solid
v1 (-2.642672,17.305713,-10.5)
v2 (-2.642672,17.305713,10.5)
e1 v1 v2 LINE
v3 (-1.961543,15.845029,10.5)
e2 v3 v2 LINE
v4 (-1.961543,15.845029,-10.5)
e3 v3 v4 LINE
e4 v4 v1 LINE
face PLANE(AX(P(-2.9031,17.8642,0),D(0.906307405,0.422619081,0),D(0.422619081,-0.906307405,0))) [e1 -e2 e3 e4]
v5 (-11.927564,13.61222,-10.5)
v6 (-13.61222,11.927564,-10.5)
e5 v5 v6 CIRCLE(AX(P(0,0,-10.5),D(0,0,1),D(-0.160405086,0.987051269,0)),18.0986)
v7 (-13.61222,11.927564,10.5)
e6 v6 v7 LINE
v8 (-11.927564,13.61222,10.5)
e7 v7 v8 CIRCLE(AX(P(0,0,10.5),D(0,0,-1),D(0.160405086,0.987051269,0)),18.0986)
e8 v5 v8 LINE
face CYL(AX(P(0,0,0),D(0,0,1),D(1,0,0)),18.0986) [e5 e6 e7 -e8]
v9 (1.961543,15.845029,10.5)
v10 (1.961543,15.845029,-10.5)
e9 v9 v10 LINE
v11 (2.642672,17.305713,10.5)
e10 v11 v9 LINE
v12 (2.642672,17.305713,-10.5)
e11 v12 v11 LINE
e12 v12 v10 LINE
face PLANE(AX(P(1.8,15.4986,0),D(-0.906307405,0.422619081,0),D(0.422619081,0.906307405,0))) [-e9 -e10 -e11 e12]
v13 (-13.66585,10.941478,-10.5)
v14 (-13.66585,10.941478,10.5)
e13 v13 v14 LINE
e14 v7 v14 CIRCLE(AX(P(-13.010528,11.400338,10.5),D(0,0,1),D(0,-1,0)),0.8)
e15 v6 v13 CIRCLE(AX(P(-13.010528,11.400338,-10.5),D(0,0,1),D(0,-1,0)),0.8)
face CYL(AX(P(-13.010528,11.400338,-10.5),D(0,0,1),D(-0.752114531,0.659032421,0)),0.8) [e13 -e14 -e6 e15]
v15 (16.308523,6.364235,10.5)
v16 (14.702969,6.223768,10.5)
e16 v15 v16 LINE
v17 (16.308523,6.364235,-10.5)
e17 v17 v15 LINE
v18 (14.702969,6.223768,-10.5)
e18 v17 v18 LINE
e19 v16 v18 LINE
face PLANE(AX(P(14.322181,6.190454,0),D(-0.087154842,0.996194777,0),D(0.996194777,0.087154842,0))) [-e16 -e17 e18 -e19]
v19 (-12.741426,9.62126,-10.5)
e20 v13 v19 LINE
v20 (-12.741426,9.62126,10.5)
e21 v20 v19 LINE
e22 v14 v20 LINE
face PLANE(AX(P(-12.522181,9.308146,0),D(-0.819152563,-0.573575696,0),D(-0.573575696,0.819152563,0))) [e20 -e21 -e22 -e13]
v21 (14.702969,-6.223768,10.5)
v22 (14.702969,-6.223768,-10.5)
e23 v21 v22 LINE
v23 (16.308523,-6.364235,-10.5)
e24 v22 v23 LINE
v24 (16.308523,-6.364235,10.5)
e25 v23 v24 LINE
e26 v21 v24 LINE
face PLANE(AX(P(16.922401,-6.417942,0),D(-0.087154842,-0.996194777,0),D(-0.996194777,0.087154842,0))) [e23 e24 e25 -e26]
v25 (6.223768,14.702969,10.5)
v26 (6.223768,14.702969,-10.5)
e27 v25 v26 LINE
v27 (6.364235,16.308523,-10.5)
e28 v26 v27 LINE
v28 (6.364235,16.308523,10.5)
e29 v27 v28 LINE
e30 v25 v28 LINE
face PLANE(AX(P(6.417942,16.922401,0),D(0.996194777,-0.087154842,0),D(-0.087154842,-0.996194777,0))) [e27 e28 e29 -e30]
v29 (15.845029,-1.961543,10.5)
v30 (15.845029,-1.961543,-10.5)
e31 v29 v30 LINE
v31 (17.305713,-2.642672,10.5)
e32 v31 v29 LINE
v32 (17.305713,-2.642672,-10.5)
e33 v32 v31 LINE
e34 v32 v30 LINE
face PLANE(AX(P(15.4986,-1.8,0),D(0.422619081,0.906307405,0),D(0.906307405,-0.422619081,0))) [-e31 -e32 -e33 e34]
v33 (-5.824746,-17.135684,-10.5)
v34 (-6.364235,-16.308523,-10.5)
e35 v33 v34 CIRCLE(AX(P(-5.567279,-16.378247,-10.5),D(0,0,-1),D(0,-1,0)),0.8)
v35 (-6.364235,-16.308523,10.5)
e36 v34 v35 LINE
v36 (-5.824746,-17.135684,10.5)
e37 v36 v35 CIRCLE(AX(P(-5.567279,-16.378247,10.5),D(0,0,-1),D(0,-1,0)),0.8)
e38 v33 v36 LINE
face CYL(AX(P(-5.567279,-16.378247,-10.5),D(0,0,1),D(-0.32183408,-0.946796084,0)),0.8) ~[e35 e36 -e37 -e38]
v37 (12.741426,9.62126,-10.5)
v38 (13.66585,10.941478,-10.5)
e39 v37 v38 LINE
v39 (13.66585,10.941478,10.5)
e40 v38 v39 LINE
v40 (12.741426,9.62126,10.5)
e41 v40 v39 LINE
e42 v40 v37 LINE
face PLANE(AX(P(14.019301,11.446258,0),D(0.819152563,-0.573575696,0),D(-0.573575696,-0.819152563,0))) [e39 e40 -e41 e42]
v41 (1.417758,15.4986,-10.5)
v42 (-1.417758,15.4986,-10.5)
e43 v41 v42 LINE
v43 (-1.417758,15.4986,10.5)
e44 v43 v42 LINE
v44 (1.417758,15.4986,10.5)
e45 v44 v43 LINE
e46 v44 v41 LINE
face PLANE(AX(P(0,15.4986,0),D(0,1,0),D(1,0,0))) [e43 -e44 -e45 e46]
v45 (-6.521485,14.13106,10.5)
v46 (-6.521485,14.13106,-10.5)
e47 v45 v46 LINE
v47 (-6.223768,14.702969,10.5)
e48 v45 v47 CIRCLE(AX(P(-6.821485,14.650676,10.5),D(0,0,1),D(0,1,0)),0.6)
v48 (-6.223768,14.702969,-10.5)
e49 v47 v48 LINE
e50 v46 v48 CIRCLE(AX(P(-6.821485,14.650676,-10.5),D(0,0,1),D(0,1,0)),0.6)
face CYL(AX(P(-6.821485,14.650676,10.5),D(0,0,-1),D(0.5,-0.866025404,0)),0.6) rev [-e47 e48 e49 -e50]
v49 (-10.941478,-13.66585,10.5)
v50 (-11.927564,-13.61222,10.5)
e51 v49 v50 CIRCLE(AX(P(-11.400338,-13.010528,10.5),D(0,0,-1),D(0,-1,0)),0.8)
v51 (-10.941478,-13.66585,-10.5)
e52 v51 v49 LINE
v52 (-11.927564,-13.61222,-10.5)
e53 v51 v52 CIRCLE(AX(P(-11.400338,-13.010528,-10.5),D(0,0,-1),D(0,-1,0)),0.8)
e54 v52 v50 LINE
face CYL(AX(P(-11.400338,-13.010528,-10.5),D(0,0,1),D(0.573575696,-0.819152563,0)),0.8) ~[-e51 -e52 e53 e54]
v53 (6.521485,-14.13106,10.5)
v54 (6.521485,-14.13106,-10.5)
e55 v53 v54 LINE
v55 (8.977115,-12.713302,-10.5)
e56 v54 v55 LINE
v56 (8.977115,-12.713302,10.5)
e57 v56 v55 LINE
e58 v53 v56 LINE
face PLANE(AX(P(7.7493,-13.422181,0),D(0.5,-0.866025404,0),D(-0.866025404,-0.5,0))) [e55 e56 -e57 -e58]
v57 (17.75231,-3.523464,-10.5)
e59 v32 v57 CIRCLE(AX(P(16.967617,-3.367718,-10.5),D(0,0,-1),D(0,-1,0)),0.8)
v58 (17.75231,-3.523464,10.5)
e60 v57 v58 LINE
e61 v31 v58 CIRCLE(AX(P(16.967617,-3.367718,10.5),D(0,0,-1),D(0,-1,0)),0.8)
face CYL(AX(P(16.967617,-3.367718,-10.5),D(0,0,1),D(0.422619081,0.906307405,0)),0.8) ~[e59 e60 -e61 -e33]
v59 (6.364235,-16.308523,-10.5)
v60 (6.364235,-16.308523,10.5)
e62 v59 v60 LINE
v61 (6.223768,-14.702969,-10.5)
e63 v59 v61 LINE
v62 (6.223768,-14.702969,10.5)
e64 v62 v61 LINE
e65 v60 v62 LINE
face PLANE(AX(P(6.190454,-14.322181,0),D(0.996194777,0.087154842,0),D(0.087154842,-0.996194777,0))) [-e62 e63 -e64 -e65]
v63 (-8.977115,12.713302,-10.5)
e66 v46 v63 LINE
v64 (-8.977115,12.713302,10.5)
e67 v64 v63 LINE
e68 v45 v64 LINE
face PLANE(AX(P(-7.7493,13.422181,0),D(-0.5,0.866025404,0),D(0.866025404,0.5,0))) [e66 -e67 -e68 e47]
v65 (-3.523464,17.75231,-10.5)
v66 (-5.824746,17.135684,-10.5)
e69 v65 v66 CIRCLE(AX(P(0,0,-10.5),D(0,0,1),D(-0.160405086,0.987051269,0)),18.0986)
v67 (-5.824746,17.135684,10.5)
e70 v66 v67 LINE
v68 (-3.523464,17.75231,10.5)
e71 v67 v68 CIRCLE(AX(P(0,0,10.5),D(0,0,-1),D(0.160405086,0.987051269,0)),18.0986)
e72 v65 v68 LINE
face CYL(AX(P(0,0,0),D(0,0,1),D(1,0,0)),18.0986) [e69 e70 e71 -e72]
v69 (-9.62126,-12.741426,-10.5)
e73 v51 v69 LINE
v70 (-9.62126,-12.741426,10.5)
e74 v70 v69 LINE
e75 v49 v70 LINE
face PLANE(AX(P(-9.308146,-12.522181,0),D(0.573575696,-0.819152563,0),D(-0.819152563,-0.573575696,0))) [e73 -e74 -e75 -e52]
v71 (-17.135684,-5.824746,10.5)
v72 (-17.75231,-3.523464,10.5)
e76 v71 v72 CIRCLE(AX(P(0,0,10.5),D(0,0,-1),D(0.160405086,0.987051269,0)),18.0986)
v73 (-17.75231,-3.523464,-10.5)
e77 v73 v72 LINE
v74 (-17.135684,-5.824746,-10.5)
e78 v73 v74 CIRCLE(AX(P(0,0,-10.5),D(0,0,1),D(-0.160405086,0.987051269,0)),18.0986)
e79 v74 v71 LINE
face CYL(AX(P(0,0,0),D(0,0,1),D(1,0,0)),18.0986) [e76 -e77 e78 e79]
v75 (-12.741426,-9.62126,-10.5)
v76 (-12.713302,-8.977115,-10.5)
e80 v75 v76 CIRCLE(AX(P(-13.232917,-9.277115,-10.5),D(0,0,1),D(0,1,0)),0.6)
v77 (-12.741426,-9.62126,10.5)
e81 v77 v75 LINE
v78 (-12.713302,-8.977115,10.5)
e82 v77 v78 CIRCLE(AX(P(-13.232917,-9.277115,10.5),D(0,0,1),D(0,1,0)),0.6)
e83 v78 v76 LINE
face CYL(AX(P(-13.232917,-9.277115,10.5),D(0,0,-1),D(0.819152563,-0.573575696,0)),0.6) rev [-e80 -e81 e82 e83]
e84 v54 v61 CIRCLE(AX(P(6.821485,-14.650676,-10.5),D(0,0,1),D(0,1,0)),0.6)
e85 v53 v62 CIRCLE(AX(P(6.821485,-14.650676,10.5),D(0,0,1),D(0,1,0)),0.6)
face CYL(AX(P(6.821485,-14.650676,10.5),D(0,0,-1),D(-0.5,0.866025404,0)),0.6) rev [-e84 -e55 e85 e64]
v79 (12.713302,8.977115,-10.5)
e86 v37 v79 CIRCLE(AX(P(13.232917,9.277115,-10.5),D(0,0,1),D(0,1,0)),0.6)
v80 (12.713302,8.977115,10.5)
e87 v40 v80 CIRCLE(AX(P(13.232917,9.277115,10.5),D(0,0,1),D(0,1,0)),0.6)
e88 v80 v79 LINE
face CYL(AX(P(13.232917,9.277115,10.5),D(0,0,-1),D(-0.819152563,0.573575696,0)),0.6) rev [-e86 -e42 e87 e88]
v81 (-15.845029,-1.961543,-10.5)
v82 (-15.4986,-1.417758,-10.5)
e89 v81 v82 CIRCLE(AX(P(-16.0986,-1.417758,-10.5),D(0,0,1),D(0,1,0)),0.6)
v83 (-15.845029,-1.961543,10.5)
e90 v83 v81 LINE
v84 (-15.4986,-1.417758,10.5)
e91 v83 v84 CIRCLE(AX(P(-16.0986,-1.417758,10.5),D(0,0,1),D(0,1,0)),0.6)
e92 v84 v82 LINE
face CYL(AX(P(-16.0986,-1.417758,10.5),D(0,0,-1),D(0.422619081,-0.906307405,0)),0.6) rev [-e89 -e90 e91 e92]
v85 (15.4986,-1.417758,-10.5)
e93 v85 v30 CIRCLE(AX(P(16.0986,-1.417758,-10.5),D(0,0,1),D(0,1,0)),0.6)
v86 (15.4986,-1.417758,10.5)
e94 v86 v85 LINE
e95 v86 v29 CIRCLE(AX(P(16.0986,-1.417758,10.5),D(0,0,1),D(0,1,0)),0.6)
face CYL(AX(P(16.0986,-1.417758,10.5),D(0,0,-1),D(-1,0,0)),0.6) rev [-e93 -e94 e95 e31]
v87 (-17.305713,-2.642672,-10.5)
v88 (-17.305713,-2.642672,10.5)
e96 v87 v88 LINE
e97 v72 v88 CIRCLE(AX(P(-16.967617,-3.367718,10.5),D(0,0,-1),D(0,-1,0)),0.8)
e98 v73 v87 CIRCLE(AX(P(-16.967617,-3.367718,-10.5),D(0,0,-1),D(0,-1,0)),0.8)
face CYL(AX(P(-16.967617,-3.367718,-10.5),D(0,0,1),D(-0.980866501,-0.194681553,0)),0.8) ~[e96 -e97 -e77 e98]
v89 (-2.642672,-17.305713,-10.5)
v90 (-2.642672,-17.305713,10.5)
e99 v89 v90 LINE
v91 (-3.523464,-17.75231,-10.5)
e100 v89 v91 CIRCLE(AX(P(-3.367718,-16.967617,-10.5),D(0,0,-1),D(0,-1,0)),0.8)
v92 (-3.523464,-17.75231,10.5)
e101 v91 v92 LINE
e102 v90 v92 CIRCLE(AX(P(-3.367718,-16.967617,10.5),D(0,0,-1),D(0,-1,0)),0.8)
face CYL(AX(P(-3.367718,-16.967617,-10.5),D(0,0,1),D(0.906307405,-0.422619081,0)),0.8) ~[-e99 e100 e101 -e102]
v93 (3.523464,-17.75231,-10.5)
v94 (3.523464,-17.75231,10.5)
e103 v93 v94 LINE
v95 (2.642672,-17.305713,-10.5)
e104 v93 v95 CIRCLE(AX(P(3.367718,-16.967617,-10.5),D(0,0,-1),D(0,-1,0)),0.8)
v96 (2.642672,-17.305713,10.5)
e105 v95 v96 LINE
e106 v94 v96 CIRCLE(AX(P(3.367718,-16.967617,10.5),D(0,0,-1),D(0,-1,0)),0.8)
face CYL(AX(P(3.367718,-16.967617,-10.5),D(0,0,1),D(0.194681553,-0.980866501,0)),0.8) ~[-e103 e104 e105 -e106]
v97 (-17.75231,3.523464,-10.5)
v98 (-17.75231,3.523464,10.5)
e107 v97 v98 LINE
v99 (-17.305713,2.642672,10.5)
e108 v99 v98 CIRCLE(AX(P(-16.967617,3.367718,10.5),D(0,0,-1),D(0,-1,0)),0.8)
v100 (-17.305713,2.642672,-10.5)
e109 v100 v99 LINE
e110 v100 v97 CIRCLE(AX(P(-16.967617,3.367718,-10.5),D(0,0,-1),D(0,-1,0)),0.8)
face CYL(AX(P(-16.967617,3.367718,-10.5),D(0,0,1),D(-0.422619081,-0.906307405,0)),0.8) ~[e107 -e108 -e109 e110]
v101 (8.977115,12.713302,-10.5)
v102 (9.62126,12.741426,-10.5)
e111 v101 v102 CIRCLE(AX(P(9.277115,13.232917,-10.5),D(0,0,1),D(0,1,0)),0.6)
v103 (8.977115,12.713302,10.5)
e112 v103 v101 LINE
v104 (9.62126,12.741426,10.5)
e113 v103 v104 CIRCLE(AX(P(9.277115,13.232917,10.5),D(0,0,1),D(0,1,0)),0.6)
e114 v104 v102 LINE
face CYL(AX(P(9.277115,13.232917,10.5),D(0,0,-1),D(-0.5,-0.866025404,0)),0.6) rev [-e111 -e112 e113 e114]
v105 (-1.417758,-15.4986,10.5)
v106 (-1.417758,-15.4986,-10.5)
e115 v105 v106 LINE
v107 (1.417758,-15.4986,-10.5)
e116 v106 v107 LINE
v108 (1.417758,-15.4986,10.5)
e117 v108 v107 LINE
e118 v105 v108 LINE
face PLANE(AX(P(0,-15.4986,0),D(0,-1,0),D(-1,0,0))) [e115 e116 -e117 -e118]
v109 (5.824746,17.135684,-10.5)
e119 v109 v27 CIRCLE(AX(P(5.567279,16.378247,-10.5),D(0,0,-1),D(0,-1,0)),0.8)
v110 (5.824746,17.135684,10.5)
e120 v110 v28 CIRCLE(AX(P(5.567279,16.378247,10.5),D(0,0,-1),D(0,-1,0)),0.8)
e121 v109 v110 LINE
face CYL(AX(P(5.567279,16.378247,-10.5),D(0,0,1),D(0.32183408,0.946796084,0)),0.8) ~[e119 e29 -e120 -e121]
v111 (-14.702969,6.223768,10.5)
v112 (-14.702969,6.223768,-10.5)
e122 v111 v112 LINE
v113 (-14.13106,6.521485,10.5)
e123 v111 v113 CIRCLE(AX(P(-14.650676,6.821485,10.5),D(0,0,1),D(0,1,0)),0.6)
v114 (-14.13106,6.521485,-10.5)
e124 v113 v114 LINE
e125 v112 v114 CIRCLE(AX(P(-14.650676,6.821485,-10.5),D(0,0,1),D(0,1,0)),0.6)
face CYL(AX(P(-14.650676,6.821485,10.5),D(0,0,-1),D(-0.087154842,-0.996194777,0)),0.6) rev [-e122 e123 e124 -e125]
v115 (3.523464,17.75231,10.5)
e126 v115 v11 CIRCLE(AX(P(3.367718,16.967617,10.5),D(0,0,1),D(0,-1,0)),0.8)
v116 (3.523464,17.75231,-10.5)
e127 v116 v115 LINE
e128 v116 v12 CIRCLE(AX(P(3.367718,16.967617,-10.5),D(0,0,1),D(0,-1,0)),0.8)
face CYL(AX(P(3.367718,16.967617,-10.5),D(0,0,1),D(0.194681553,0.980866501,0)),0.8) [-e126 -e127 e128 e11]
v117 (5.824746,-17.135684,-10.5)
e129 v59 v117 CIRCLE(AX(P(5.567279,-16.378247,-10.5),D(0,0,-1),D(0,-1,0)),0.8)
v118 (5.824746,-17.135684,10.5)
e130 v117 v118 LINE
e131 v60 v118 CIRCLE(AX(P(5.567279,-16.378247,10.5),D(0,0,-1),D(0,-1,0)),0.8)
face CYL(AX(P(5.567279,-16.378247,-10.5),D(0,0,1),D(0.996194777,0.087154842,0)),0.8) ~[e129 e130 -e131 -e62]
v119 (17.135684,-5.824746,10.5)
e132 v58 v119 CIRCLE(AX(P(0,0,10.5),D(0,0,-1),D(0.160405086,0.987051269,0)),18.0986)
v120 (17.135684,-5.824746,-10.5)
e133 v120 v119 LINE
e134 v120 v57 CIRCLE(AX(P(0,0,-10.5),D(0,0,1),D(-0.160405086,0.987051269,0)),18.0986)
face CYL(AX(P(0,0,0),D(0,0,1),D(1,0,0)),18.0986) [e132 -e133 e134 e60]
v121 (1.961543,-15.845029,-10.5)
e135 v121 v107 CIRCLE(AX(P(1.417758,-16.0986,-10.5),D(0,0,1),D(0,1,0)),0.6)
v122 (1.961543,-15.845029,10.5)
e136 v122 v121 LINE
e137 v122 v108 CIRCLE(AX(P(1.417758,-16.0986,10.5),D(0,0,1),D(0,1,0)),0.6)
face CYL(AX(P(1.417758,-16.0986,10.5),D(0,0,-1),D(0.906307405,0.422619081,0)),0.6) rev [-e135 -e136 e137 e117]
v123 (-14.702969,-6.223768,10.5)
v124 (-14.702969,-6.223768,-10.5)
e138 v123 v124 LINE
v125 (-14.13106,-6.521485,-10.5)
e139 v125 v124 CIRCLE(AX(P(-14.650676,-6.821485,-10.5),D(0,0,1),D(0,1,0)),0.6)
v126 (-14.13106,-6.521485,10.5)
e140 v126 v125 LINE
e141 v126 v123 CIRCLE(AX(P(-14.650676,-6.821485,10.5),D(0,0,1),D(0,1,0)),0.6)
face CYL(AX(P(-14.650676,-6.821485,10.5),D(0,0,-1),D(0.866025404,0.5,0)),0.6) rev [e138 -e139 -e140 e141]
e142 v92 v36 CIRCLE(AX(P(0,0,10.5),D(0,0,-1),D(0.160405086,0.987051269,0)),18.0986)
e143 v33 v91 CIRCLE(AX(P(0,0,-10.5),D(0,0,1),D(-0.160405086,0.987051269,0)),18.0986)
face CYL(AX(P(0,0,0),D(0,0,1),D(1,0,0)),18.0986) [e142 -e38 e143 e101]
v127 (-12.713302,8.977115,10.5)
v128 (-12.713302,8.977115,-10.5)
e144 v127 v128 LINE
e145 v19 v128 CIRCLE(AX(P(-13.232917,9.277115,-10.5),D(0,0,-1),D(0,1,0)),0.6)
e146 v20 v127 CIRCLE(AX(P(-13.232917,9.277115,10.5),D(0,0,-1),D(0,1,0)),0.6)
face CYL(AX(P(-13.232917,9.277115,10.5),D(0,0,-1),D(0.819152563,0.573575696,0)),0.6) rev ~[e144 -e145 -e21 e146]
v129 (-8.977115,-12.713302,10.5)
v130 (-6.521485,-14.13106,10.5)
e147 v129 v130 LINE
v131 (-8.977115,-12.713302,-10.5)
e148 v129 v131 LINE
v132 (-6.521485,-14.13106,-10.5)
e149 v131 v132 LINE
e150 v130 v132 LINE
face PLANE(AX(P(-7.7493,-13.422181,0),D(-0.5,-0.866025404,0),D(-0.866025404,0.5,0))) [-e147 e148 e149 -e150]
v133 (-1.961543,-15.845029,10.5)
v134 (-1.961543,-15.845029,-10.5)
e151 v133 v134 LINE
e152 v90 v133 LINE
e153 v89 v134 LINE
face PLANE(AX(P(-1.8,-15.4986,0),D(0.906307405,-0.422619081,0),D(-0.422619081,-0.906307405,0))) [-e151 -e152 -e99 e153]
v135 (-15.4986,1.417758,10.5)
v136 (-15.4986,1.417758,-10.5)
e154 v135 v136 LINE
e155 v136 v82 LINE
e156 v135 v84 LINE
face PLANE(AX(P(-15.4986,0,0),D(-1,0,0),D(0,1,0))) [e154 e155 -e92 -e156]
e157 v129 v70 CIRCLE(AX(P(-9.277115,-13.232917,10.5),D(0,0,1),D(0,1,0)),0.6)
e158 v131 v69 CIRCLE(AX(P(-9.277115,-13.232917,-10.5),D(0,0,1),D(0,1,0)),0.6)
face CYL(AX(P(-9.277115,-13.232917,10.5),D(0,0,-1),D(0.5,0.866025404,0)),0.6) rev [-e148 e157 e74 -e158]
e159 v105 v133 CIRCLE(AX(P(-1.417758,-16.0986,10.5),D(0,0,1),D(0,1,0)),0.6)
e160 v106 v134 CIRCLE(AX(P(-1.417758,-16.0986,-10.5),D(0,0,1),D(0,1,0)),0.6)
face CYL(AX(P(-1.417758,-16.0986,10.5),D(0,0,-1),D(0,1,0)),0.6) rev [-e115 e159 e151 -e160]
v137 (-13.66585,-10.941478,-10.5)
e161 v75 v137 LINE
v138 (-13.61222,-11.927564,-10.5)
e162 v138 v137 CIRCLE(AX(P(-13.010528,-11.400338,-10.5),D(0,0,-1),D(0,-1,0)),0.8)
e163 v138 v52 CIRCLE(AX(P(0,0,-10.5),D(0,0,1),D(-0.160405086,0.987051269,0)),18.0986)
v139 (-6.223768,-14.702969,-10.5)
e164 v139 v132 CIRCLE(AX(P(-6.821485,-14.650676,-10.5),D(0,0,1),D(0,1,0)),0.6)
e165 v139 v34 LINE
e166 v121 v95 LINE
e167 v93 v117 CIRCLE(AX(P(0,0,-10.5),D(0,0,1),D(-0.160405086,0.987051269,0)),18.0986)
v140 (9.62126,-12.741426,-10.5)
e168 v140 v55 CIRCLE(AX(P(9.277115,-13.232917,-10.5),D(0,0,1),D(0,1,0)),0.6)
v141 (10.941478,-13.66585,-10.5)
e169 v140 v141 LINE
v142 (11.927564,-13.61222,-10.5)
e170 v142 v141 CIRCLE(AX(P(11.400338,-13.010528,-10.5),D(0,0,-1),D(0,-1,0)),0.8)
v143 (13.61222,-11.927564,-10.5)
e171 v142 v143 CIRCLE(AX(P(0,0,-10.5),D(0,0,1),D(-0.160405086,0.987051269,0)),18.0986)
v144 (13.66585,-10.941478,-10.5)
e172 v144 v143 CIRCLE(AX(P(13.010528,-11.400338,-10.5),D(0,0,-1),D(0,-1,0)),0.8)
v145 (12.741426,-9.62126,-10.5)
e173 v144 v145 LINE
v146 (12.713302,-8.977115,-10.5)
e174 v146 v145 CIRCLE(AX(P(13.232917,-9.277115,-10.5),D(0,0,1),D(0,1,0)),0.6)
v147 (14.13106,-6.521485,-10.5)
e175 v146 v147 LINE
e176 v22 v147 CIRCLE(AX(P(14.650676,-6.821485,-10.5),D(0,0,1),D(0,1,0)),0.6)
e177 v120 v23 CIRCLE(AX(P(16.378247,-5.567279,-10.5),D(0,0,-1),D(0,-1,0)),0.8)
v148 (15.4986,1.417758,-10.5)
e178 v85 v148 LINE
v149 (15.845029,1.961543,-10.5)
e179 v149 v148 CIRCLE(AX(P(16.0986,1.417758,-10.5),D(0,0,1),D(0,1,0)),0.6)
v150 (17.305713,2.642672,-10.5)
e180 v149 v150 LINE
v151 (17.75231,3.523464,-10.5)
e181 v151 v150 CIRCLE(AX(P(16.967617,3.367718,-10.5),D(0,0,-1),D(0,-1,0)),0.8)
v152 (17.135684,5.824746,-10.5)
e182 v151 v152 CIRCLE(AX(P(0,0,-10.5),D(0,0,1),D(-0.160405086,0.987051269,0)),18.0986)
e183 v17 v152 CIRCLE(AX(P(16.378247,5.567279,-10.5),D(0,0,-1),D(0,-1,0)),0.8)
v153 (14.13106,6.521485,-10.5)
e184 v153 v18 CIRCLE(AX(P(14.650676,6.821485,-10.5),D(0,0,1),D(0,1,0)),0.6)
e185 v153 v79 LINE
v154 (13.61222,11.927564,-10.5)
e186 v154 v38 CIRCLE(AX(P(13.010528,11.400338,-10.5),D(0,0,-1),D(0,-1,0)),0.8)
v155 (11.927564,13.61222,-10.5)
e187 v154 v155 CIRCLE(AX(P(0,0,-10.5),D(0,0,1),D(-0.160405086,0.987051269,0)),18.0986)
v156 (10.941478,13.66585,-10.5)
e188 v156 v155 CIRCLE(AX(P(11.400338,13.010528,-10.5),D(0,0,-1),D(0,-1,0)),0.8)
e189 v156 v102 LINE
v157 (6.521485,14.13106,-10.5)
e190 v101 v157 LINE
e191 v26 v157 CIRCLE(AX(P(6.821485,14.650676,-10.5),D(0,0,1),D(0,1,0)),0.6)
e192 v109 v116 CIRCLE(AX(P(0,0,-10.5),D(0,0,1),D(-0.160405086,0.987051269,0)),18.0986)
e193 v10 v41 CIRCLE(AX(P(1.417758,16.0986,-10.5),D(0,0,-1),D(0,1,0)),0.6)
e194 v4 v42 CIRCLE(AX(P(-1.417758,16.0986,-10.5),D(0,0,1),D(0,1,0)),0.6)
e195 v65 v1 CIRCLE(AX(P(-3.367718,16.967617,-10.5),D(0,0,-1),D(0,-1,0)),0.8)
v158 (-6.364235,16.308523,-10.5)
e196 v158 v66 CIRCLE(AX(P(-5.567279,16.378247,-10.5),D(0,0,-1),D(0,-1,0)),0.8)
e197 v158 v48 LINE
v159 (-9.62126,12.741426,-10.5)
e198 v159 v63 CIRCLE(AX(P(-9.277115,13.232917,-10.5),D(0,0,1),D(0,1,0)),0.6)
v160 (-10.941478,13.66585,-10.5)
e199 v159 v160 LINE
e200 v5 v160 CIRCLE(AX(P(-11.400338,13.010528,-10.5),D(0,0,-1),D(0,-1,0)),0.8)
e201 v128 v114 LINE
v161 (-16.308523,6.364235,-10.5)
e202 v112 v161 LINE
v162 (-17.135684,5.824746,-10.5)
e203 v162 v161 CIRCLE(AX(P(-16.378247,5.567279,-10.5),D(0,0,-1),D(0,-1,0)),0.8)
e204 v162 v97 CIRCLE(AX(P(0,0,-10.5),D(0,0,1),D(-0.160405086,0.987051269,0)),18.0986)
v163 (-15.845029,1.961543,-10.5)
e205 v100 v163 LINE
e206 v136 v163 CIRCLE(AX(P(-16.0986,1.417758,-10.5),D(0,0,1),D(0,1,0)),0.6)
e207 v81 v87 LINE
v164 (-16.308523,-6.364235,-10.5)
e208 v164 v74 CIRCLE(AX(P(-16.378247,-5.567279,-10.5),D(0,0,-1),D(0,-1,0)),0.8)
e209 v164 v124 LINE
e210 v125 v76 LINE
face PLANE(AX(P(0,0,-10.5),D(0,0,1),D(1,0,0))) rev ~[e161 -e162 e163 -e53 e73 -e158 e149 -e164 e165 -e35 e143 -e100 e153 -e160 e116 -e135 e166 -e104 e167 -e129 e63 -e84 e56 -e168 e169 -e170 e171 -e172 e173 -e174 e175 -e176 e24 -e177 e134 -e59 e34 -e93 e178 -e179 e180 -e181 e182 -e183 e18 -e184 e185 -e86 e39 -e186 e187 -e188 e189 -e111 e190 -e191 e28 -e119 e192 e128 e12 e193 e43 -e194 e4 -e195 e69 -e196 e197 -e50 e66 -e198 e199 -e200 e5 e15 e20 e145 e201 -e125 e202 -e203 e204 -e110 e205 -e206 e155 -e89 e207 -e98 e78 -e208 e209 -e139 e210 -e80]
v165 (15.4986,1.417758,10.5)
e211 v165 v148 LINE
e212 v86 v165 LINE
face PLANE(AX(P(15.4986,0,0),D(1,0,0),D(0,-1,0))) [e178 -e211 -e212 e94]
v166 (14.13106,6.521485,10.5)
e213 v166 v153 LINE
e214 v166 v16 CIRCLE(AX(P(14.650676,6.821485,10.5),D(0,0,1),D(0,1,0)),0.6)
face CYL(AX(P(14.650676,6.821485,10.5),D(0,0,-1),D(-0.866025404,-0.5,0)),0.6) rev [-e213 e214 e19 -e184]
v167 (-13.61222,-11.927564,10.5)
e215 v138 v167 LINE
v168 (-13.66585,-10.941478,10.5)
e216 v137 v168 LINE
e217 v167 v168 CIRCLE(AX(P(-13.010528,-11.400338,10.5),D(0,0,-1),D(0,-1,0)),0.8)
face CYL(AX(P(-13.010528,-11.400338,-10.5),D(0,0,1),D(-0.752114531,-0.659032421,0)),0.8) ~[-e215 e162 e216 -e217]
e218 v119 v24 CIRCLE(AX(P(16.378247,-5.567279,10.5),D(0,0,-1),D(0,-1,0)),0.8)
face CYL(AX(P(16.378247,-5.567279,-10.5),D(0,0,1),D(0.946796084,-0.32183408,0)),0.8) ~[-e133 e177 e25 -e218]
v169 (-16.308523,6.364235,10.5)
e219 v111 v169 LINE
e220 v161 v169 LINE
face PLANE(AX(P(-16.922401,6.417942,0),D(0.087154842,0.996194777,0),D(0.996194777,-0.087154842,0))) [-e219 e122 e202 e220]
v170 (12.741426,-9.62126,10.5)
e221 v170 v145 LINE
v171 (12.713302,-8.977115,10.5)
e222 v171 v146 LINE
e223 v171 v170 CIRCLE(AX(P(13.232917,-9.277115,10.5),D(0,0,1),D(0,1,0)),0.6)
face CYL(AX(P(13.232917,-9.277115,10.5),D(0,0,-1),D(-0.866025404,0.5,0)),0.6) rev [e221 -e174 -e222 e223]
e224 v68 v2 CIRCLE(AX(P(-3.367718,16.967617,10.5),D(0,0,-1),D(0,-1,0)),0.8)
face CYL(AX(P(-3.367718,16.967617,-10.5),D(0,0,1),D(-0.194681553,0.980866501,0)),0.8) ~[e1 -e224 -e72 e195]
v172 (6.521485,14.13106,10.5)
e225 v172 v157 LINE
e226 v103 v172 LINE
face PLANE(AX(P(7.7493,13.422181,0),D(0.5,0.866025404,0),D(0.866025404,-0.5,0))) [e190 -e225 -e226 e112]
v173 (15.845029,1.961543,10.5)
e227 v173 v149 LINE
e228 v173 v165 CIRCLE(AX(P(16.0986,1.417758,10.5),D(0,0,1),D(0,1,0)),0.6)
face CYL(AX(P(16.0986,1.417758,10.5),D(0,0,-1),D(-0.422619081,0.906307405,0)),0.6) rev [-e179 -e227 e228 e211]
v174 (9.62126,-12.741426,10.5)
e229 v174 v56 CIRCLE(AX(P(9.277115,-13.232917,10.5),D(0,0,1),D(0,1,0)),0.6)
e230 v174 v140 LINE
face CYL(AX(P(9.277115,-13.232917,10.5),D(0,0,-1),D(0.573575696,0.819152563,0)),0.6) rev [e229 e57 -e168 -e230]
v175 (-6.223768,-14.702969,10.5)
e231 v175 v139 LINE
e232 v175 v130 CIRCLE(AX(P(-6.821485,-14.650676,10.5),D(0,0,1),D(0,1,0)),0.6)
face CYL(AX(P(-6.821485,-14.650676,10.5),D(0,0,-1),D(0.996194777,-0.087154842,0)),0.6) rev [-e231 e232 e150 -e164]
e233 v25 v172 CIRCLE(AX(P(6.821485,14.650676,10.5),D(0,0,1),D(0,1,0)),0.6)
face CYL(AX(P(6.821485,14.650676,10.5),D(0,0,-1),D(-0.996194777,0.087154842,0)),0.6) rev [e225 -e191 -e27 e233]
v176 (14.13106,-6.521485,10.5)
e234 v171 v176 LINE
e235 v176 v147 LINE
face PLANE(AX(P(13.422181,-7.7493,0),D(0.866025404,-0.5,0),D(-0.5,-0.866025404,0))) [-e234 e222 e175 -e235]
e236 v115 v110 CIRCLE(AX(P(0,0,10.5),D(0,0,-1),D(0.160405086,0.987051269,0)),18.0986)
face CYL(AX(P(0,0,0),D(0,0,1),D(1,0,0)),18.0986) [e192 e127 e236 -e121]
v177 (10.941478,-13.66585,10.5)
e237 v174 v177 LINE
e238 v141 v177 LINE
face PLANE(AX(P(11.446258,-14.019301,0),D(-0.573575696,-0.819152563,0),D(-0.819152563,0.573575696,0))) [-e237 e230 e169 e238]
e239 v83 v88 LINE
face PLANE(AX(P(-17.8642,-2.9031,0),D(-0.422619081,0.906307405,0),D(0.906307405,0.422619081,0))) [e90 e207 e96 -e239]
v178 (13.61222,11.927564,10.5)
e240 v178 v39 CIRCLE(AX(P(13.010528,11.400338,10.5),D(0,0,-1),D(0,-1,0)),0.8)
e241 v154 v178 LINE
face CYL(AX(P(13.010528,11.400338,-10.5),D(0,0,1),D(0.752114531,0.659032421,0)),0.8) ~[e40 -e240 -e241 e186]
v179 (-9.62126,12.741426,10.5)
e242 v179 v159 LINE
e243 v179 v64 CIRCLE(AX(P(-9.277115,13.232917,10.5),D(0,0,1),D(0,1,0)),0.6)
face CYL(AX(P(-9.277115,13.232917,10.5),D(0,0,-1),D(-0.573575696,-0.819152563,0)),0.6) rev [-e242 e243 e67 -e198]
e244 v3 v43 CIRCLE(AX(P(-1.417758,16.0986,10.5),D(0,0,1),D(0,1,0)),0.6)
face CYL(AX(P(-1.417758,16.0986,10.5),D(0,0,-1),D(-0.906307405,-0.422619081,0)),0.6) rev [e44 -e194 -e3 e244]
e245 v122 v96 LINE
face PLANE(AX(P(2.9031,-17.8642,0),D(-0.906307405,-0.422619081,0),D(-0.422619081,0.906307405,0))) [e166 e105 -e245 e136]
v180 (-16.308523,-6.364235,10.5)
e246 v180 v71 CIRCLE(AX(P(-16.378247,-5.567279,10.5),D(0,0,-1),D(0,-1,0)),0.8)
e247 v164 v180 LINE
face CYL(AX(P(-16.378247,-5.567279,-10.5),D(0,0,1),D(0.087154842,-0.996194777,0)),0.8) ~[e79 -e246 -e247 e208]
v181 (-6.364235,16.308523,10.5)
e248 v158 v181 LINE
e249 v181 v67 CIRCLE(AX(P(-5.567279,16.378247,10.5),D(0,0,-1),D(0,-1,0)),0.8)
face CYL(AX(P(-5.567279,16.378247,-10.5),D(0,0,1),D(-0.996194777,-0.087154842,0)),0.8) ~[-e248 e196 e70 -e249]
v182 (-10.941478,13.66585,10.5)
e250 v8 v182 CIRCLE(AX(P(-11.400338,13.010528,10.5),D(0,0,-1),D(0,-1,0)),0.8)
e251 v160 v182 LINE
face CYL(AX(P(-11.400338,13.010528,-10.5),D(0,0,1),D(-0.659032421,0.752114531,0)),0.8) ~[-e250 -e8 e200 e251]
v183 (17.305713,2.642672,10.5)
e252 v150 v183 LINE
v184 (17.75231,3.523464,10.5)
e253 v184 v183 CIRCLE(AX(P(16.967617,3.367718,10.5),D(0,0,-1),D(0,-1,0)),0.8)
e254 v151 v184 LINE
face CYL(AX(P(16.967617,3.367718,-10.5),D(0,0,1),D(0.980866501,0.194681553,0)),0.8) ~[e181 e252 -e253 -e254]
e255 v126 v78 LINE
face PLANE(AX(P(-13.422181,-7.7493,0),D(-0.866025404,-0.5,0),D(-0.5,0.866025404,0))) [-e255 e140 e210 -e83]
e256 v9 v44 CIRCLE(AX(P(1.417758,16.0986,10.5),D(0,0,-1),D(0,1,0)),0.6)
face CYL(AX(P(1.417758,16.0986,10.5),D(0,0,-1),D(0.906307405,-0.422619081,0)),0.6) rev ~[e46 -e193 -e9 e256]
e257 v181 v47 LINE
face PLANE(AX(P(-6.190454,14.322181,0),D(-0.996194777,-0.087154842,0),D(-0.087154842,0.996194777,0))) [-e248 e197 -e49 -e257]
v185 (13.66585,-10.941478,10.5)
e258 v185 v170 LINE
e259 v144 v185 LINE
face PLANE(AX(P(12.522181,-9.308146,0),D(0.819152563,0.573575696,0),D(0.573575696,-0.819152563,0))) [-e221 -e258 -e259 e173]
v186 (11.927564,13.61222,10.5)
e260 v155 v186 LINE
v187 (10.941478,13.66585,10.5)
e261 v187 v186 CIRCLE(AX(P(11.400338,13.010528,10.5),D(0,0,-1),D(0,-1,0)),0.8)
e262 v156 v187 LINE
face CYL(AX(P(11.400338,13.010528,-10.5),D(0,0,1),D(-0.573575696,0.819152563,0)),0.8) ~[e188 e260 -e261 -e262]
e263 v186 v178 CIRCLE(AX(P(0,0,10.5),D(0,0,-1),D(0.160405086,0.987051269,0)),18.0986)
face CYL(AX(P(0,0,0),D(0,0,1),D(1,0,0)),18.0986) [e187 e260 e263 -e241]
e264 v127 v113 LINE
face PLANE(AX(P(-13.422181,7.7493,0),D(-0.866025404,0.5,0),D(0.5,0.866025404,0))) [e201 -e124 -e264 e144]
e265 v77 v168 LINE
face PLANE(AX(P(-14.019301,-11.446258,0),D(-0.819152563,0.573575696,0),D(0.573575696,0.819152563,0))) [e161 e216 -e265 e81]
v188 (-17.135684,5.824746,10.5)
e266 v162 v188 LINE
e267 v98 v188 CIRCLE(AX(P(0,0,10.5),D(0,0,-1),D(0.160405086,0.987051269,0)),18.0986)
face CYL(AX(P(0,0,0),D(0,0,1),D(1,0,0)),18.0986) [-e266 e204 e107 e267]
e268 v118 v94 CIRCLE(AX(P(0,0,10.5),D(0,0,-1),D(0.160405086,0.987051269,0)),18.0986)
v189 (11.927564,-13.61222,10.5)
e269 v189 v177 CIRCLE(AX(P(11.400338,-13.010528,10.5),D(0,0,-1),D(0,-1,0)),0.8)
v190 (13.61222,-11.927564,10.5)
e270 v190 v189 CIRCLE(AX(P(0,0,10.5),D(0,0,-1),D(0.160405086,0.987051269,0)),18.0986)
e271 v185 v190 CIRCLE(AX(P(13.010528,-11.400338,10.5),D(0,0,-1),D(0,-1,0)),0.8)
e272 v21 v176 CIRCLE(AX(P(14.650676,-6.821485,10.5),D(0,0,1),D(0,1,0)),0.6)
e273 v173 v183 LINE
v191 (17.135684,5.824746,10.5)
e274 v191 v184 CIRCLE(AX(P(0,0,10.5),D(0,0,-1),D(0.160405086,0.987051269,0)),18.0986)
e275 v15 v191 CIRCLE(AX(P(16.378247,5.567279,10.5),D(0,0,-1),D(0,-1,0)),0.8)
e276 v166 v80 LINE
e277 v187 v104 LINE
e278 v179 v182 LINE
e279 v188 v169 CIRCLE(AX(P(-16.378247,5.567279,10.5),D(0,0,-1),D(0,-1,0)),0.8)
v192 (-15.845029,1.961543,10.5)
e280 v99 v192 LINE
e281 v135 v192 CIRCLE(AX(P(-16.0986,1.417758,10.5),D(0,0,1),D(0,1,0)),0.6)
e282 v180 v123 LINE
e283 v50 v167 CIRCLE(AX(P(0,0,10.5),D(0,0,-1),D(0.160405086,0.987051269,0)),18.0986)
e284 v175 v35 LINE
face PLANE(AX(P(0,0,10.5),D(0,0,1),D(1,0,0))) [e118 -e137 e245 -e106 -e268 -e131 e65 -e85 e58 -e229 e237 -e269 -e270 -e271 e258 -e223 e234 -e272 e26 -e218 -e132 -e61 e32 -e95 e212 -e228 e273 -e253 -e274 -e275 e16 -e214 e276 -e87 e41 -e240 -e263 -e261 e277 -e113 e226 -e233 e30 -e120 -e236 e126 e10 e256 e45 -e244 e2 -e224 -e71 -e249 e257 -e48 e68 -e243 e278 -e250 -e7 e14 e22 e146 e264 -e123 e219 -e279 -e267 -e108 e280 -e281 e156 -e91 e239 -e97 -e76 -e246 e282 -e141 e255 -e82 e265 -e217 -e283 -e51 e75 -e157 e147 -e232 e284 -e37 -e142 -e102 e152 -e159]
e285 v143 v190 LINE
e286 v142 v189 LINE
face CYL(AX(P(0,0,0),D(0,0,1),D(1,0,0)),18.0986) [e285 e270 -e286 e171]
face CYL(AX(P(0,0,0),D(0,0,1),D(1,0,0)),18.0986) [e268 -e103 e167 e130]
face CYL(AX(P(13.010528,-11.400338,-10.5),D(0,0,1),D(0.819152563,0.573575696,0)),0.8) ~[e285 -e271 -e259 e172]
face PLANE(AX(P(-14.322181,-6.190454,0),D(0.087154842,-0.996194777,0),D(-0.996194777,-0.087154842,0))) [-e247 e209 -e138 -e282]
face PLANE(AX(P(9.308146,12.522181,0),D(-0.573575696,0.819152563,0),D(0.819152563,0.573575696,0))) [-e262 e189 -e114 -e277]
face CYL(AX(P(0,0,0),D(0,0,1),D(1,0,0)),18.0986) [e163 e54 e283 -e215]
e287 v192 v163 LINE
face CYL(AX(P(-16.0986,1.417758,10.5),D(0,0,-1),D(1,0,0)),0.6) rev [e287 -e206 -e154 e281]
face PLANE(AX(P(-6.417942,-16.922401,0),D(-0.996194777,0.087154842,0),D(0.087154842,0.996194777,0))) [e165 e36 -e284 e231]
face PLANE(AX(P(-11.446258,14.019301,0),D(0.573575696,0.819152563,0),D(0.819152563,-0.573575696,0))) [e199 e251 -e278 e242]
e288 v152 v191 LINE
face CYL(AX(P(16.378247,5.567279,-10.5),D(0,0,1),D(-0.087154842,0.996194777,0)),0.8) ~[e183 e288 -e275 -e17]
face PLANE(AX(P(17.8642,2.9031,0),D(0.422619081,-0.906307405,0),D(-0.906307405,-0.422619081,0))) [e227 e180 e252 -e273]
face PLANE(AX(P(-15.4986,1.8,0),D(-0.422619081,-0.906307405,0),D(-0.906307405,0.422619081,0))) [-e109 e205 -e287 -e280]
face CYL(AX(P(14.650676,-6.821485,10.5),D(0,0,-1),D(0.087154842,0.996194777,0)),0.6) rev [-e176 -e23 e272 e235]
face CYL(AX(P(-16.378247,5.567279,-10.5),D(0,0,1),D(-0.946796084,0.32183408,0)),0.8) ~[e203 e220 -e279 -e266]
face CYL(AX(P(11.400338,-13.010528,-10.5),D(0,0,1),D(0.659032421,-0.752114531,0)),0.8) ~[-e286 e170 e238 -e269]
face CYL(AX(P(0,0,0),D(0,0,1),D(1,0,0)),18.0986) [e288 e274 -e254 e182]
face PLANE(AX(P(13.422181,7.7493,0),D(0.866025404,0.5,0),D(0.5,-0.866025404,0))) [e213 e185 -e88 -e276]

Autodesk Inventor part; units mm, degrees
ref_plane "YZ Plane" through (0, 0, 0) normal (1, 0, 0) x (0, 1, 0)
ref_plane "XZ Plane" through (0, 0, 0) normal (0, 1, 0) x (-1, 0, 0)
ref_plane "XY Plane" through (0, 0, 0) normal (0, 0, 1) x (1, 0, 0)
sketch "Pulley Sketch" plane through (0, 0, 0) normal (0, 0, 1) x (1, 0, 0)
  circle A0 centre (0, 0) radius 19.0986 construction
  circle A1 centre (0, 0) radius 18.0986
  circle A2 centre (0, 0) radius 15.4986
  line L0 (-2.9031, 17.8642) -> (-1.8, 15.4986)
  line L1 (-1.8, 15.4986) -> (1.8, 15.4986)
  line L2 (1.8, 15.4986) -> (2.9031, 17.8642)
  line L3 (0, 0) -> (0, 18.0986) construction
  point P0 (0, 15.4986)
  dimension "d0" = 38.1972
  dimension "d1" = 1
  dimension "d2" = 2.6
  dimension "d3" = 50
  dimension "d4" = 3.6
extrude "Base Body" add sketch "Pulley Sketch" along normal mid plane 21 contours A2 | A1 L0 L1 L2 | L2 L1 L0 A1
extrude "Tooth" cut sketch "Pulley Sketch" along normal through all both and the other way through all contours L2 L1 L0 A1 picked at (0, 17.2145)
fillet "Tooth Fillet" radius 0.6 2 edges at (1.8, 15.4986, 0) (-1.8, 15.4986, 0)
fillet "Tooth Fillet" radius 0.8 4 edges at (-2.9031, 17.8642, 5.25) (-2.9031, 17.8642, -5.25) (2.9031, 17.8642, 5.25) (2.9031, 17.8642, -5.25)
pattern_circular "Teeth" count 12 over 360 about axis through (0, 0, -10) along (0, 0, 1) of "Tooth", "Tooth Fillet"
feature "Left flange" [suppressed]
feature "Right flange" [suppressed]
equation "\"d1\" = da_a"
equation "\"d2\" = da_hg"
equation "\"d3\" = 2 * da_fi"
equation "\"d4\" = da_bw"
equation "\"d5\" = da_bf"
equation "\"d7\" = da_bf"
equation "\"d9\" = da_rb"
equation "\"d10\" = da_rt"
equation "\"da_fi\" = 25deg"
equation "\"da_hg\" = 2.6"
equation "\"da_bw\" = 3.6"
equation "\"da_rb\" = 0.6"
equation "\"da_rt\" = 0.8"
equation "\"da_a\" = 1"
equation "\"da_bf\" = 21"
equation "\"da_wf\" = 1.5"
equation "\"da_hf\" = 1.5"
properties part number "Synchronous Pulley1" material "Steel"
